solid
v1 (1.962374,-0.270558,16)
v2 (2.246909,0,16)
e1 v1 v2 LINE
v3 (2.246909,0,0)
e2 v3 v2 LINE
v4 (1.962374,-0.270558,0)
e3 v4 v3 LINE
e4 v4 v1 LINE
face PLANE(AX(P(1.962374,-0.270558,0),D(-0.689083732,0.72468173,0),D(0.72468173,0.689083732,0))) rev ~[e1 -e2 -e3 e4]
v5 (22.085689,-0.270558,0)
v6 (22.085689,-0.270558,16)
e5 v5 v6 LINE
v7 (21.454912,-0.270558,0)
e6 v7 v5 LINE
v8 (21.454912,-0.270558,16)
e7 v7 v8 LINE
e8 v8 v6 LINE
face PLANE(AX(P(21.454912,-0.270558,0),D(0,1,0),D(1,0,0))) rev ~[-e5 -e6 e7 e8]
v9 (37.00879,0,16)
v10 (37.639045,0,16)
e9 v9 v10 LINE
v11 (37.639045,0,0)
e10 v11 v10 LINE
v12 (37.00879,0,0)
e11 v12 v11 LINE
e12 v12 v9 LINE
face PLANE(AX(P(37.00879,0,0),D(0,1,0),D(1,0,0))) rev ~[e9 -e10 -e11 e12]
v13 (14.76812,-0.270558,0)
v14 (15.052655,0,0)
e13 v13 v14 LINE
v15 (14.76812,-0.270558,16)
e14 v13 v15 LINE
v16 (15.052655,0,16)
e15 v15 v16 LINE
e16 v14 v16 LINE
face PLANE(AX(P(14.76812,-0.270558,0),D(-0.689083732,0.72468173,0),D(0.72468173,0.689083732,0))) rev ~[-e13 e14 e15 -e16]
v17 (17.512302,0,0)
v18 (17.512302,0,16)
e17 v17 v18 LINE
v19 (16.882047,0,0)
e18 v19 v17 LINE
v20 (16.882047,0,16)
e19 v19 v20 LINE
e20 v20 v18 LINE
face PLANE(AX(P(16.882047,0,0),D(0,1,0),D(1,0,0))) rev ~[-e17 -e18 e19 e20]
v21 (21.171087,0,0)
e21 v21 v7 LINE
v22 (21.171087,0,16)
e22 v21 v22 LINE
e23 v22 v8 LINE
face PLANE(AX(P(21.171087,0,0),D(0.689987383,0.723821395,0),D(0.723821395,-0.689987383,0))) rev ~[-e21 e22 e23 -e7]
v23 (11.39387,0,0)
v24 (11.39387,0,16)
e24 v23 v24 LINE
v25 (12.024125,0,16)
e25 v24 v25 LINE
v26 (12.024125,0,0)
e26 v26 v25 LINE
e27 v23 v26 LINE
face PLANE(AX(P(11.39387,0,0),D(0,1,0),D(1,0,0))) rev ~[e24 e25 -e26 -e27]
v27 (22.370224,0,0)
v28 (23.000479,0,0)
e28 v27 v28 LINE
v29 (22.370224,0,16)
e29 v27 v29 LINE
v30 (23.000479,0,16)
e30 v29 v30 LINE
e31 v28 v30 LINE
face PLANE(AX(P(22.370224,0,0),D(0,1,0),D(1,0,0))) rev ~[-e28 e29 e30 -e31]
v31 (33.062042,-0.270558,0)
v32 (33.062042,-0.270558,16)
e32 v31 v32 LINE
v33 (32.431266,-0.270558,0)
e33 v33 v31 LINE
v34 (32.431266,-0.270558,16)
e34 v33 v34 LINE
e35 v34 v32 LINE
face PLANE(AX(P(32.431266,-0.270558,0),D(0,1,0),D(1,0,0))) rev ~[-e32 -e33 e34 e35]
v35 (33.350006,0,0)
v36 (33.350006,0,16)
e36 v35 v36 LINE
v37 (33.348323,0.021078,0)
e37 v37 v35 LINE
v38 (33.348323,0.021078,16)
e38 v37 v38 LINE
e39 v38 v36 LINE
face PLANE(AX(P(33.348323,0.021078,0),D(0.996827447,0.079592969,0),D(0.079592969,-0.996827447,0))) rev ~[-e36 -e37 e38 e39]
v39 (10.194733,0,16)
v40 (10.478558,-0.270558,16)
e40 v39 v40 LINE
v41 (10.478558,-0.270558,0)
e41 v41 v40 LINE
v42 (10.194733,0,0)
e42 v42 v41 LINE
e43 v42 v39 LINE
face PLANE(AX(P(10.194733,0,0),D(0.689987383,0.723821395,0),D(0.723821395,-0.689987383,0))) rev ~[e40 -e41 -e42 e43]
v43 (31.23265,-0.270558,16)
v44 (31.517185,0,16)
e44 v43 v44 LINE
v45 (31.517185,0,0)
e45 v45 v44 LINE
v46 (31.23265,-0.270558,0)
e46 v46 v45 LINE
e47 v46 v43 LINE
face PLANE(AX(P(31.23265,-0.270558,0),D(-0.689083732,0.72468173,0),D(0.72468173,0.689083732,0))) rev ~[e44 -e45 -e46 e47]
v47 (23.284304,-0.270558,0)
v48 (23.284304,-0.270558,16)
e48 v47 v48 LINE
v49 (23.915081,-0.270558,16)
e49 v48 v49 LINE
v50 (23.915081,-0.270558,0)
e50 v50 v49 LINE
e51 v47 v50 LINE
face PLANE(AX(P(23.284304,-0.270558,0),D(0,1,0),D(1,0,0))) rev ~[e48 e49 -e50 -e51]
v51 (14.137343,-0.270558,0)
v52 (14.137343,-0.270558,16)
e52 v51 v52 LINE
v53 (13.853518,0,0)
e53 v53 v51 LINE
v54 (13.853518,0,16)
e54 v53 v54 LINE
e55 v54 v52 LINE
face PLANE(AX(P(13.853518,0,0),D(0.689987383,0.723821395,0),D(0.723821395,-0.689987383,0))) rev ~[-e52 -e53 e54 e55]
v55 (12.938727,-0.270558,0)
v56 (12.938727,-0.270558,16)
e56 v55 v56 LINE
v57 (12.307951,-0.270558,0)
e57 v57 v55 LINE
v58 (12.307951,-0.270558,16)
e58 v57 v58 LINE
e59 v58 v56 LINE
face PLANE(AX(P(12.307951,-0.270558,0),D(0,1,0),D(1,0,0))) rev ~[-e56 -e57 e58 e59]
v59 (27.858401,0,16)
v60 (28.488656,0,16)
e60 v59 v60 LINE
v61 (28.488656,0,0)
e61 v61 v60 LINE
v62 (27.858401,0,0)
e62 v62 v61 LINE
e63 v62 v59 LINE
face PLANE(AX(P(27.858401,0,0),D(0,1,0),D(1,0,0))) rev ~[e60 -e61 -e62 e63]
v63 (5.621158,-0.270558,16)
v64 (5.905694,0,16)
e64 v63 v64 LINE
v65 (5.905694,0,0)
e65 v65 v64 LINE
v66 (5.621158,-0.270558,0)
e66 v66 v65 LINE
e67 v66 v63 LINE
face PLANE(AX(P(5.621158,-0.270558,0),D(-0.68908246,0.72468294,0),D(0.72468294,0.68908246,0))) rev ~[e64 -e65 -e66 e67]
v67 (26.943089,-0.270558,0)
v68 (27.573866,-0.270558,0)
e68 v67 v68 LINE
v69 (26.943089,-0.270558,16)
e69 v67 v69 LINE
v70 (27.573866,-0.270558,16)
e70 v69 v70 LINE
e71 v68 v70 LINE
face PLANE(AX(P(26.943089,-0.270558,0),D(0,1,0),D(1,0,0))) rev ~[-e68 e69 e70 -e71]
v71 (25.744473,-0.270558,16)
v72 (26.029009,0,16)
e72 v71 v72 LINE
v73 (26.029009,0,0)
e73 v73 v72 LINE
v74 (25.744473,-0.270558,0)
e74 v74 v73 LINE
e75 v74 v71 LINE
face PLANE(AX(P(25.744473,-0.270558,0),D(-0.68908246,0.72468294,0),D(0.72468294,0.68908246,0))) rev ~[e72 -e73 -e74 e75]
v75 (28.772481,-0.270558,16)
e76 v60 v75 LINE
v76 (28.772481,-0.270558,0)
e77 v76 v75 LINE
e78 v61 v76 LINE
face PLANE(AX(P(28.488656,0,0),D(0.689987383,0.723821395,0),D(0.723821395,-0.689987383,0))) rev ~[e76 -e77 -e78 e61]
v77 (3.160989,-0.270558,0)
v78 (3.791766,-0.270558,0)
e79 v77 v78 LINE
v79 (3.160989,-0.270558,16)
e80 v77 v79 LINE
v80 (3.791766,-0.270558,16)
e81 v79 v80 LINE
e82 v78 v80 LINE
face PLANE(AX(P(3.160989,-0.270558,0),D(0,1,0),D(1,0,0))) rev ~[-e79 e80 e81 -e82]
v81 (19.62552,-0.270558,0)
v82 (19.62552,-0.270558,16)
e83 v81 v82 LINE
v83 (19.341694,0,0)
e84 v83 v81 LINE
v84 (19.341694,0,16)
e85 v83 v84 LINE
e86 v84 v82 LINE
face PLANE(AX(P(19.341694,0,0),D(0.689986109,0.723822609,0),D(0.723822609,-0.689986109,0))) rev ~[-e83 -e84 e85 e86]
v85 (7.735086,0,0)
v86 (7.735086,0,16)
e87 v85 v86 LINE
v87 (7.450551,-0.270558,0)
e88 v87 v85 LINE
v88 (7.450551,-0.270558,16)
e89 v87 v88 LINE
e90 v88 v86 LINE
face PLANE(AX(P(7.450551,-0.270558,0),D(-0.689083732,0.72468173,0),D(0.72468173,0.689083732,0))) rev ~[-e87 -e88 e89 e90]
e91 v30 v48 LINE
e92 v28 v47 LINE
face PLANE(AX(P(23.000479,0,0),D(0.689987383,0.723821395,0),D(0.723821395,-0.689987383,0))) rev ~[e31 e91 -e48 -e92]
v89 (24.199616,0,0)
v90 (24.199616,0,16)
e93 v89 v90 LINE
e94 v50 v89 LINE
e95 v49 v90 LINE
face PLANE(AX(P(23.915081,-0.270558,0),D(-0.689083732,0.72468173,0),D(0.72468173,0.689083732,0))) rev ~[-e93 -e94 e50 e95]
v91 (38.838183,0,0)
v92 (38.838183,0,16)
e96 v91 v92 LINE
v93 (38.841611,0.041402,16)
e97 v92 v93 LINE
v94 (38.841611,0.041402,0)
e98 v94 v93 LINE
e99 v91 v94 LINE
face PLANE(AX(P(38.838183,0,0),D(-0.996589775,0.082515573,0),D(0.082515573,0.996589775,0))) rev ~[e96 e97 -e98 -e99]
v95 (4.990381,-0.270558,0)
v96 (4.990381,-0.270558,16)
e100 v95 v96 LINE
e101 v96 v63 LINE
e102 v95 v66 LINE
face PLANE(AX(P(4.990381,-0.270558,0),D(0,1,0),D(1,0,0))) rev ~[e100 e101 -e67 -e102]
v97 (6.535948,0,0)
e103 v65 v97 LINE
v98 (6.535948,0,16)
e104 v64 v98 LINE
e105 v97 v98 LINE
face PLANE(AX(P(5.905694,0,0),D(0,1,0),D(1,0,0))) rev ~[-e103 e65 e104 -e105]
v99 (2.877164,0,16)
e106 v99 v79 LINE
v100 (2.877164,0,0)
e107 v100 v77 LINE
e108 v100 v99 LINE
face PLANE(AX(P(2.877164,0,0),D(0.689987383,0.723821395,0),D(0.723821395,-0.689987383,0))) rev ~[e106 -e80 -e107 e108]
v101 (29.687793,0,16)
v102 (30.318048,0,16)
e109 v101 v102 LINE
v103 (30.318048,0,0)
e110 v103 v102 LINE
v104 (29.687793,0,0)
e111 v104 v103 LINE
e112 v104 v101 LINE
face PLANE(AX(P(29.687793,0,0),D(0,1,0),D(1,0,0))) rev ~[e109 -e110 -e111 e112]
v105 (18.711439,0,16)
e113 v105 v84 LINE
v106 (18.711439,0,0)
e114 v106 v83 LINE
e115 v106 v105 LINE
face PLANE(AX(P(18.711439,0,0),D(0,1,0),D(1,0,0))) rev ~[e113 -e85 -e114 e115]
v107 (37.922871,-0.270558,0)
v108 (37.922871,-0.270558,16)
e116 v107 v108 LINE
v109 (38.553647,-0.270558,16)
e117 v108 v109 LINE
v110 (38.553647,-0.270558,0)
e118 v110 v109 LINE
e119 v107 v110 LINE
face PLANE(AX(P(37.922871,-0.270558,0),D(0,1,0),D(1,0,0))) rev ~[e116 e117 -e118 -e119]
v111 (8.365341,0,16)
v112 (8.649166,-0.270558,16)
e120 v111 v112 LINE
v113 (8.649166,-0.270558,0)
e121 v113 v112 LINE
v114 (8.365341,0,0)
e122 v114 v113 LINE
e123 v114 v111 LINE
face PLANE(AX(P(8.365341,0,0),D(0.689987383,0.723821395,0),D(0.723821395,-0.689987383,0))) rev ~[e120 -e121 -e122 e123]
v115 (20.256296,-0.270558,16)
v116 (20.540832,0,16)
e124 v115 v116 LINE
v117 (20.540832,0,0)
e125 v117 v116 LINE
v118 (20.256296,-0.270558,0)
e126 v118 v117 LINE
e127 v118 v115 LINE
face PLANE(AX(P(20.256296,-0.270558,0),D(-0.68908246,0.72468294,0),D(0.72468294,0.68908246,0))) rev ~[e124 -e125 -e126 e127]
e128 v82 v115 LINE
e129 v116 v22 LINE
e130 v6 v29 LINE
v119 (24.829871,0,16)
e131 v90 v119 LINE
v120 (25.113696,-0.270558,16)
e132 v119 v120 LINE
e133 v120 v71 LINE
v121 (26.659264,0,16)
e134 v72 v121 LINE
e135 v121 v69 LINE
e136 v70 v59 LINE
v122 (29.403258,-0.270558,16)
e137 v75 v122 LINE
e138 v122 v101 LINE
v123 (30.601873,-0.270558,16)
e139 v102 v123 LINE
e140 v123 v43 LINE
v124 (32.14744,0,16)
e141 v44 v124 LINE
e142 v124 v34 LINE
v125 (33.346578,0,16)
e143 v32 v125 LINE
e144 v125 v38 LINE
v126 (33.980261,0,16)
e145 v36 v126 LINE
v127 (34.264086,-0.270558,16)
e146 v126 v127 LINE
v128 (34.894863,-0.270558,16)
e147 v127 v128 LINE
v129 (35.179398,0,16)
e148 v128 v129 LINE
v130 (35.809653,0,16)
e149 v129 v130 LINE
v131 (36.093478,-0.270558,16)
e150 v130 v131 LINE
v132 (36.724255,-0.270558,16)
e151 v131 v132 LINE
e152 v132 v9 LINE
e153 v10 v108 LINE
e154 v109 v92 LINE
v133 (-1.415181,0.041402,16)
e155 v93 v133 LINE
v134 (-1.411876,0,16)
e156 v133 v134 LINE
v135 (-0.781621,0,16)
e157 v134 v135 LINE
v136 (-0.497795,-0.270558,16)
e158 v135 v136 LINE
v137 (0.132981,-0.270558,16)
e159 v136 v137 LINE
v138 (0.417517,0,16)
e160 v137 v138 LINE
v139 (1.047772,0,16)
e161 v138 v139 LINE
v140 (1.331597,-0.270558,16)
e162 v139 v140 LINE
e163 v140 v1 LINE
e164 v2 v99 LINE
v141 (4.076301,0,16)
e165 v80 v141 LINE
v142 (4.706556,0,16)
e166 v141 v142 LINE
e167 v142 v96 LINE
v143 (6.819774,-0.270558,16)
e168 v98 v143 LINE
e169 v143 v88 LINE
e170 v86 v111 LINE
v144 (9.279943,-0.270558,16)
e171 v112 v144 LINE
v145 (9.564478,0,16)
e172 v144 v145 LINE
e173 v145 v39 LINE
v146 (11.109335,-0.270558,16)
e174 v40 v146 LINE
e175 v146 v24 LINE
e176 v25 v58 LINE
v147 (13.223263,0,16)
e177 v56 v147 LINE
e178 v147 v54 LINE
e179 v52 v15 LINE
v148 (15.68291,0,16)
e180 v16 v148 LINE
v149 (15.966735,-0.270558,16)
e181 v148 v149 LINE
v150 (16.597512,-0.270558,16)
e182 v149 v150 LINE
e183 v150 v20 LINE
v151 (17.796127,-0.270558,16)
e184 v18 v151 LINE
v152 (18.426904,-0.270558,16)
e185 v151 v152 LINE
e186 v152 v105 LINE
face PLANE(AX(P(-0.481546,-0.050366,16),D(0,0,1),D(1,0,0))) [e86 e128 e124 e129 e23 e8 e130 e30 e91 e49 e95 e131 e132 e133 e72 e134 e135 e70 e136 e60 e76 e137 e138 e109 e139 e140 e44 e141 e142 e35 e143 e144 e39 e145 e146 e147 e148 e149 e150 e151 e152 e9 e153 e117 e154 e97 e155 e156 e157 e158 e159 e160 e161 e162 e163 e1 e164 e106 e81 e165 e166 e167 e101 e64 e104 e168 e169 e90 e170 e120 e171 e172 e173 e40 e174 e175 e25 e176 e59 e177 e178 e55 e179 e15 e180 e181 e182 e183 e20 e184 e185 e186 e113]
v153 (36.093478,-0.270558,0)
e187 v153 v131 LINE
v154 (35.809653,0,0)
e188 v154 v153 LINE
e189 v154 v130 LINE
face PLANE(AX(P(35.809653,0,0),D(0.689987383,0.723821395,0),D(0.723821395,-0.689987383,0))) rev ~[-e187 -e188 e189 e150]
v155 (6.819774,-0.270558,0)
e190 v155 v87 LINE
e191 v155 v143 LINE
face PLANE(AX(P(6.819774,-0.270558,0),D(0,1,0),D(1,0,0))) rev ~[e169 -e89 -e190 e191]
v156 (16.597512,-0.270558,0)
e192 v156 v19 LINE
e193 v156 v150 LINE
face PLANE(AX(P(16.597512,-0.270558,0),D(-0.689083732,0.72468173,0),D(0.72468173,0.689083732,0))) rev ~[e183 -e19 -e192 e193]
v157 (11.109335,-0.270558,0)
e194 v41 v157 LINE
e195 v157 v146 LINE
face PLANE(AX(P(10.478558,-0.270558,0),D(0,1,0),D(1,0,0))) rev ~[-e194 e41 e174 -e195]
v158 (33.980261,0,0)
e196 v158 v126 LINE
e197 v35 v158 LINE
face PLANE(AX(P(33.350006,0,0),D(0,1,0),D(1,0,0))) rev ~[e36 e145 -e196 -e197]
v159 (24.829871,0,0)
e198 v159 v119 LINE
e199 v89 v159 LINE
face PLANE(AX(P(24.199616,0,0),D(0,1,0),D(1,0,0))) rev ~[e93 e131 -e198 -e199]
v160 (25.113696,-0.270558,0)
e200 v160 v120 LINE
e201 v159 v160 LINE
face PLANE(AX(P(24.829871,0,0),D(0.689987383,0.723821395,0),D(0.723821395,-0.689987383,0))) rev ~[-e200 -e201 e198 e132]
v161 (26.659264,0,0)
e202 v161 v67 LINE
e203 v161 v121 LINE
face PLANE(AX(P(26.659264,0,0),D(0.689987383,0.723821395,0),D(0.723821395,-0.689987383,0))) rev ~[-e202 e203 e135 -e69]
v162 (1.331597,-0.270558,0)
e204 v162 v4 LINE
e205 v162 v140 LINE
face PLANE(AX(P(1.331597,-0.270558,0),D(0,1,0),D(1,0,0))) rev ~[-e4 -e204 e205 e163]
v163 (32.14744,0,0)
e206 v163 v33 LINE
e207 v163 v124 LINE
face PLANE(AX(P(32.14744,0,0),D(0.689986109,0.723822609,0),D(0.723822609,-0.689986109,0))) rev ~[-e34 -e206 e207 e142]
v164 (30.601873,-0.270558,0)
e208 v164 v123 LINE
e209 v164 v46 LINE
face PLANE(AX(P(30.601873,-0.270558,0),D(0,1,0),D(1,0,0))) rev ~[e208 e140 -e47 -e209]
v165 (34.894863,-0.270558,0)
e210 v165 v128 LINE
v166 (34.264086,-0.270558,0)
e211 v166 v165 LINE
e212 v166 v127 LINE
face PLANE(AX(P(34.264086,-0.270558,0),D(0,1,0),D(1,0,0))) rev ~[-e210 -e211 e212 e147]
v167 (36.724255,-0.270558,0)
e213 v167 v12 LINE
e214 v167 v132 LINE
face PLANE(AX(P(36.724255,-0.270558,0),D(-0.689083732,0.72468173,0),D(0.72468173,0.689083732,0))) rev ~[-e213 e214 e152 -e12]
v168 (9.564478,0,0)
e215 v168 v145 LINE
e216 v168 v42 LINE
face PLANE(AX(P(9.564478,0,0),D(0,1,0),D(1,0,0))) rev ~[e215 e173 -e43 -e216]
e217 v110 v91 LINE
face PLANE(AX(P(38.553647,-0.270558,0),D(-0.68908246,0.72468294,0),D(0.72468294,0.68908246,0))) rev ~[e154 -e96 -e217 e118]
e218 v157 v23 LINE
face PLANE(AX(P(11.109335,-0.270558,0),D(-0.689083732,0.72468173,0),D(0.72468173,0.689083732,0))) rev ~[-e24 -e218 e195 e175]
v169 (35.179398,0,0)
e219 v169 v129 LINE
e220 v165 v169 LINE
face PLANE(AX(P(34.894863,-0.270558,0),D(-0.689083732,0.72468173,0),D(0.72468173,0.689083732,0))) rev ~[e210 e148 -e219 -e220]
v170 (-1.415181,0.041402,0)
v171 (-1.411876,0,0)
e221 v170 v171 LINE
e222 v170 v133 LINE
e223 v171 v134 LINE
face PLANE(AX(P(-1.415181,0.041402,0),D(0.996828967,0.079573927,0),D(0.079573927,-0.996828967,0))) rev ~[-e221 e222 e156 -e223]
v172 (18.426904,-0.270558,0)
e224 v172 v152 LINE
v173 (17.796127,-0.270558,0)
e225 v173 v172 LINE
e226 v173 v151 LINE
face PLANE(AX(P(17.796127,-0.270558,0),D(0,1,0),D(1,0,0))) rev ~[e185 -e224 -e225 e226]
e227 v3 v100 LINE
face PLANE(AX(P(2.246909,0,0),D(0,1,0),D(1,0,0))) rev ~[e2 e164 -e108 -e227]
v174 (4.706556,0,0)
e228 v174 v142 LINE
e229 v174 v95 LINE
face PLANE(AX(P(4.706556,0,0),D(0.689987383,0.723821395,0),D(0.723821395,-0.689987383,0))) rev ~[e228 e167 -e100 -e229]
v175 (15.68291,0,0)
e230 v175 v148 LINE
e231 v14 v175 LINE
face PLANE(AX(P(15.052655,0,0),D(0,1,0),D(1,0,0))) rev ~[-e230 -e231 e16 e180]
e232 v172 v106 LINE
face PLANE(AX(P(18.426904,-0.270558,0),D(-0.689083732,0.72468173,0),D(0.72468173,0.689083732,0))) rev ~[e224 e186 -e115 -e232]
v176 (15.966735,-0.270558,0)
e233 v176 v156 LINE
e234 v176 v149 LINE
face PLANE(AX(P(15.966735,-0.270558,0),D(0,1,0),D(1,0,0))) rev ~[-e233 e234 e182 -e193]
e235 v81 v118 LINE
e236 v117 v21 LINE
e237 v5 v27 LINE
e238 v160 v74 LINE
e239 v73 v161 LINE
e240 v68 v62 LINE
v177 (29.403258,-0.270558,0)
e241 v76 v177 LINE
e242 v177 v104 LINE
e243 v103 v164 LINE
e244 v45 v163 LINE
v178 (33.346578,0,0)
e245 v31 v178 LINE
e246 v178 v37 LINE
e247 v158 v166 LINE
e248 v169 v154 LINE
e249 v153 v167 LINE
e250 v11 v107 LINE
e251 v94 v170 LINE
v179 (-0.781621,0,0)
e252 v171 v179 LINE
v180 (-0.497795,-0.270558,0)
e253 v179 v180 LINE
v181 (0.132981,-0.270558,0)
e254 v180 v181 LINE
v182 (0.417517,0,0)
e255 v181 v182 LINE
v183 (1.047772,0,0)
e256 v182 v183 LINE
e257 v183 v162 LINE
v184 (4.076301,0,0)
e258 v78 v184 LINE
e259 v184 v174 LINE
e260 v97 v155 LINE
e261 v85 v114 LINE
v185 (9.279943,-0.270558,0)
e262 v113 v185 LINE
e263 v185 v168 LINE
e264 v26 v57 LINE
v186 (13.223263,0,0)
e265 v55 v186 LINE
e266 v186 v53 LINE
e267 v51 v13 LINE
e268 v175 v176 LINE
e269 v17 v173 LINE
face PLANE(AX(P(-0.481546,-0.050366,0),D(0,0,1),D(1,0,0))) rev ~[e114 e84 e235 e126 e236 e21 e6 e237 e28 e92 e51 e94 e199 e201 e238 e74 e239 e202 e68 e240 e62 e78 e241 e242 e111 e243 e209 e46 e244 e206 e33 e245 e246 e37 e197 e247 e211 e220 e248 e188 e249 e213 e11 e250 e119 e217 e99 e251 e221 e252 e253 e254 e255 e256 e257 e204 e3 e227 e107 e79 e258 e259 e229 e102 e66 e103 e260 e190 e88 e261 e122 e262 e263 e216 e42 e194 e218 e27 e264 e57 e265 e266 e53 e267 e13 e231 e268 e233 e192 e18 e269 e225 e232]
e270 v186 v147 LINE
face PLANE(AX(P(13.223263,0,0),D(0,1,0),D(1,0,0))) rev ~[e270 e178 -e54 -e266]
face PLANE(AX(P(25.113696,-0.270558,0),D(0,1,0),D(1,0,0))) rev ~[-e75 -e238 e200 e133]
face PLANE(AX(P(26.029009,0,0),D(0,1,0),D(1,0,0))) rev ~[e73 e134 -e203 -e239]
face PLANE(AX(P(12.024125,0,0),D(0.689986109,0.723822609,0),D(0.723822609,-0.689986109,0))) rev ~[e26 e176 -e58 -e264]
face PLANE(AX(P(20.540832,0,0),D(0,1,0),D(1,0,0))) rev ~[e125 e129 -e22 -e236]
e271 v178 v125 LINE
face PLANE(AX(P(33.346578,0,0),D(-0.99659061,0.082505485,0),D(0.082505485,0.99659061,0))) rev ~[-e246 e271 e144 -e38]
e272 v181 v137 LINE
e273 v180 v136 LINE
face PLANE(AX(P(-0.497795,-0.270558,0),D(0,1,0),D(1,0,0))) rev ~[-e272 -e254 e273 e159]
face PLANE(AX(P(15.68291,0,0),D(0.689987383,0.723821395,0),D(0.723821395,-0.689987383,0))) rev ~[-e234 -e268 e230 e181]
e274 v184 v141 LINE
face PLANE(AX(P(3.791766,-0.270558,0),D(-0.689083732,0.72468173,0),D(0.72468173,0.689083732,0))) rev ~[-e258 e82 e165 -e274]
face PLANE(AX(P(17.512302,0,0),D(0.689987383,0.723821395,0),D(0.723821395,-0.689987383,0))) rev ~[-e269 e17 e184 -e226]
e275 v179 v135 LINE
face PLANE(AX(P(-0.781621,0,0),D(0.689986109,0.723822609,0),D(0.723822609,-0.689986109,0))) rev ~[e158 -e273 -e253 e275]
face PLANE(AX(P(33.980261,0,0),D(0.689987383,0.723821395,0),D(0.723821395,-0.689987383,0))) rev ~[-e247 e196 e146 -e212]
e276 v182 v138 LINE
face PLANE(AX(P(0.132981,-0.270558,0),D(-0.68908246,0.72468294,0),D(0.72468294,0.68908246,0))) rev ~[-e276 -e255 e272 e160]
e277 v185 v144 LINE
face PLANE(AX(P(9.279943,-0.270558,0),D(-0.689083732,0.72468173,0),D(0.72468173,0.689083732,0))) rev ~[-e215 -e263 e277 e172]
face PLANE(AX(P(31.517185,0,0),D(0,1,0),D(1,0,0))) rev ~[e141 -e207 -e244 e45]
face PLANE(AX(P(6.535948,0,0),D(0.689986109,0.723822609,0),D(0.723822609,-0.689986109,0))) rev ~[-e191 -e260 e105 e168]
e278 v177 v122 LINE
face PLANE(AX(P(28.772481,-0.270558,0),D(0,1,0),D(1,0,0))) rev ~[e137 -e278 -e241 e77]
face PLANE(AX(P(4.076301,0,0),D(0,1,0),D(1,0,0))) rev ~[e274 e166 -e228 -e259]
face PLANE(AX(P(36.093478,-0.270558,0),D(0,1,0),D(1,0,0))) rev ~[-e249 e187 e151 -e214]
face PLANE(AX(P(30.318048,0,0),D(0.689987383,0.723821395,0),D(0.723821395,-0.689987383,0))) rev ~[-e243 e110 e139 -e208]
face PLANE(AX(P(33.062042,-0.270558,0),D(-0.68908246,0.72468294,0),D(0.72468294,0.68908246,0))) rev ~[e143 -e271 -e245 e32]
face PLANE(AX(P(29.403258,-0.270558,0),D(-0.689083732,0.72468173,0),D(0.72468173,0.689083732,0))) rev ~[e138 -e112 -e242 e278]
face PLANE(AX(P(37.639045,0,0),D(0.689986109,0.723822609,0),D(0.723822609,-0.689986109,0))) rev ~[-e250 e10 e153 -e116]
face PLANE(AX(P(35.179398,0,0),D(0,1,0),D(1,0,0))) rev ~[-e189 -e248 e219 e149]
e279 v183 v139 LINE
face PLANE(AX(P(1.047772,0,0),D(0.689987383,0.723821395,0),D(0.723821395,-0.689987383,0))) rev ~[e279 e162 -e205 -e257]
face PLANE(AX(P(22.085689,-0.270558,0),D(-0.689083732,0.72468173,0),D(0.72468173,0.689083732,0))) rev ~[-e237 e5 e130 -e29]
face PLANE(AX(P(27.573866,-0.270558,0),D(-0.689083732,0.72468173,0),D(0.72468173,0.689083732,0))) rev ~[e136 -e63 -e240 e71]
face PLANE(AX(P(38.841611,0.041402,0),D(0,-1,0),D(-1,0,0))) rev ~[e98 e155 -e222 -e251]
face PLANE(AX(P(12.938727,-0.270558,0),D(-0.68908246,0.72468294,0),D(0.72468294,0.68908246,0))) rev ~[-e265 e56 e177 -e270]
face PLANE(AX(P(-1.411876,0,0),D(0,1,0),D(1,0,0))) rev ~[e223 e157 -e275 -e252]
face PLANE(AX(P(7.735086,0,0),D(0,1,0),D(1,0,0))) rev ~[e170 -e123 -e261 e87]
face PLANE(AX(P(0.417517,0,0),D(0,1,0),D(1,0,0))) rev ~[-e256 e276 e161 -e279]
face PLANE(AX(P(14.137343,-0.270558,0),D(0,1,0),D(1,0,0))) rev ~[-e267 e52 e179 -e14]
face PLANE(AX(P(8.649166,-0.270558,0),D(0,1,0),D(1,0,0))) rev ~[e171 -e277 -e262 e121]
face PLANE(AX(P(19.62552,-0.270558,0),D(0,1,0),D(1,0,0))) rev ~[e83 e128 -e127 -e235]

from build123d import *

# Parameters (mm, degrees)
F1_DEPTH = 16


with BuildPart() as f1:
    # F0 (on Top) → F1 (new body)
    with BuildSketch(Plane.XY):
        Polygon((0.414211, 0.041402), (-1.415181, 0.041402), (-1.411876, 0), (-0.781621, 0), (-0.497795, -0.270558), (0.132981, -0.270558), (0.417517, 0), align=None)
        Polygon((0.420945, 0.041402), (0.414211, 0.041402), (0.417517, 0), align=None)
        Polygon((2.243604, 0.041402), (0.420945, 0.041402), (0.417517, 0), (1.047772, 0), (1.331597, -0.270558), (1.962374, -0.270558), (2.246909, 0), align=None)
        Polygon((2.250337, 0.041402), (2.243604, 0.041402), (2.246909, 0), align=None)
        Polygon((4.072996, 0.041402), (2.250337, 0.041402), (2.246909, 0), (2.877164, 0), (3.160989, -0.270558), (3.791766, -0.270558), (4.076301, 0), align=None)
        Polygon((4.079729, 0.041402), (4.072996, 0.041402), (4.076301, 0), align=None)
        Polygon((5.902388, 0.041402), (4.079729, 0.041402), (4.076301, 0), (4.706556, 0), (4.990381, -0.270558), (5.621158, -0.270558), (5.905694, 0), align=None)
        Polygon((5.909122, 0.041402), (5.902388, 0.041402), (5.905694, 0), align=None)
        Polygon((7.73178, 0.041402), (5.909122, 0.041402), (5.905694, 0), (6.535948, 0), (6.819774, -0.270558), (7.450551, -0.270558), (7.735086, 0), align=None)
        Polygon((7.738514, 0.041402), (7.73178, 0.041402), (7.735086, 0), align=None)
        Polygon((9.561173, 0.041402), (7.738514, 0.041402), (7.735086, 0), (8.365341, 0), (8.649166, -0.270558), (9.279943, -0.270558), (9.564478, 0), align=None)
        Polygon((9.567906, 0.041402), (9.561173, 0.041402), (9.564478, 0), align=None)
        Polygon((11.390565, 0.041402), (9.567906, 0.041402), (9.564478, 0), (10.194733, 0), (10.478558, -0.270558), (11.109335, -0.270558), (11.39387, 0), align=None)
        Polygon((11.397298, 0.041402), (11.390565, 0.041402), (11.39387, 0), align=None)
        Polygon((13.219957, 0.041402), (11.397298, 0.041402), (11.39387, 0), (12.024125, 0), (12.307951, -0.270558), (12.938727, -0.270558), (13.223263, 0), align=None)
        Polygon((13.226691, 0.041402), (13.219957, 0.041402), (13.223263, 0), align=None)
        Polygon((15.04935, 0.041402), (13.226691, 0.041402), (13.223263, 0), (13.853518, 0), (14.137343, -0.270558), (14.76812, -0.270558), (15.052655, 0), align=None)
        Polygon((15.056083, 0.041402), (15.04935, 0.041402), (15.052655, 0), align=None)
        Polygon((16.878742, 0.041402), (15.056083, 0.041402), (15.052655, 0), (15.68291, 0), (15.966735, -0.270558), (16.597512, -0.270558), (16.882047, 0), align=None)
        Polygon((16.885475, 0.041402), (16.878742, 0.041402), (16.882047, 0), align=None)
        Polygon((18.708134, 0.041402), (16.885475, 0.041402), (16.882047, 0), (17.512302, 0), (17.796127, -0.270558), (18.426904, -0.270558), (18.711439, 0), align=None)
        Polygon((18.714868, 0.041402), (18.708134, 0.041402), (18.711439, 0), align=None)
        Polygon((20.537526, 0.041402), (18.714868, 0.041402), (18.711439, 0), (19.341694, 0), (19.62552, -0.270558), (20.256296, -0.270558), (20.540832, 0), align=None)
        Polygon((20.54426, 0.041402), (20.537526, 0.041402), (20.540832, 0), align=None)
        Polygon((22.366919, 0.041402), (20.54426, 0.041402), (20.540832, 0), (21.171087, 0), (21.454912, -0.270558), (22.085689, -0.270558), (22.370224, 0), align=None)
        Polygon((22.373652, 0.041402), (22.366919, 0.041402), (22.370224, 0), align=None)
        Polygon((24.196311, 0.041402), (22.373652, 0.041402), (22.370224, 0), (23.000479, 0), (23.284304, -0.270558), (23.915081, -0.270558), (24.199616, 0), align=None)
        Polygon((24.203044, 0.041402), (24.196311, 0.041402), (24.199616, 0), align=None)
        Polygon((26.025703, 0.041402), (24.203044, 0.041402), (24.199616, 0), (24.829871, 0), (25.113696, -0.270558), (25.744473, -0.270558), (26.029009, 0), align=None)
        Polygon((26.032437, 0.041402), (26.025703, 0.041402), (26.029009, 0), align=None)
        Polygon((27.855095, 0.041402), (26.032437, 0.041402), (26.029009, 0), (26.659264, 0), (26.943089, -0.270558), (27.573866, -0.270558), (27.858401, 0), align=None)
        Polygon((27.861829, 0.041402), (27.855095, 0.041402), (27.858401, 0), align=None)
        Polygon((29.684488, 0.041402), (27.861829, 0.041402), (27.858401, 0), (28.488656, 0), (28.772481, -0.270558), (29.403258, -0.270558), (29.687793, 0), align=None)
        Polygon((29.691221, 0.041402), (29.684488, 0.041402), (29.687793, 0), align=None)
        Polygon((31.51388, 0.041402), (29.691221, 0.041402), (29.687793, 0), (30.318048, 0), (30.601873, -0.270558), (31.23265, -0.270558), (31.517185, 0), align=None)
        Polygon((31.520614, 0.041402), (31.51388, 0.041402), (31.517185, 0), align=None)
        Polygon((33.3467, 0.041402), (31.520614, 0.041402), (31.517185, 0), (32.14744, 0), (32.431266, -0.270558), (33.062042, -0.270558), (33.346578, 0), (33.348323, 0.021078), align=None)
        Polygon((33.350006, 0.041402), (33.3467, 0.041402), (33.348323, 0.021078), align=None)
        Polygon((35.176093, 0.041402), (33.350006, 0.041402), (33.348323, 0.021078), (33.350006, 0), (33.980261, 0), (34.264086, -0.270558), (34.894863, -0.270558), (35.179398, 0), align=None)
        Polygon((35.182826, 0.041402), (35.176093, 0.041402), (35.179398, 0), align=None)
        Polygon((37.005485, 0.041402), (35.182826, 0.041402), (35.179398, 0), (35.809653, 0), (36.093478, -0.270558), (36.724255, -0.270558), (37.00879, 0), align=None)
        Polygon((37.012218, 0.041402), (37.005485, 0.041402), (37.00879, 0), align=None)
        Polygon((38.841611, 0.041402), (37.012218, 0.041402), (37.00879, 0), (37.639045, 0), (37.922871, -0.270558), (38.553647, -0.270558), (38.838183, 0), align=None)
    extrude(amount=F1_DEPTH)


solid = f1.part
